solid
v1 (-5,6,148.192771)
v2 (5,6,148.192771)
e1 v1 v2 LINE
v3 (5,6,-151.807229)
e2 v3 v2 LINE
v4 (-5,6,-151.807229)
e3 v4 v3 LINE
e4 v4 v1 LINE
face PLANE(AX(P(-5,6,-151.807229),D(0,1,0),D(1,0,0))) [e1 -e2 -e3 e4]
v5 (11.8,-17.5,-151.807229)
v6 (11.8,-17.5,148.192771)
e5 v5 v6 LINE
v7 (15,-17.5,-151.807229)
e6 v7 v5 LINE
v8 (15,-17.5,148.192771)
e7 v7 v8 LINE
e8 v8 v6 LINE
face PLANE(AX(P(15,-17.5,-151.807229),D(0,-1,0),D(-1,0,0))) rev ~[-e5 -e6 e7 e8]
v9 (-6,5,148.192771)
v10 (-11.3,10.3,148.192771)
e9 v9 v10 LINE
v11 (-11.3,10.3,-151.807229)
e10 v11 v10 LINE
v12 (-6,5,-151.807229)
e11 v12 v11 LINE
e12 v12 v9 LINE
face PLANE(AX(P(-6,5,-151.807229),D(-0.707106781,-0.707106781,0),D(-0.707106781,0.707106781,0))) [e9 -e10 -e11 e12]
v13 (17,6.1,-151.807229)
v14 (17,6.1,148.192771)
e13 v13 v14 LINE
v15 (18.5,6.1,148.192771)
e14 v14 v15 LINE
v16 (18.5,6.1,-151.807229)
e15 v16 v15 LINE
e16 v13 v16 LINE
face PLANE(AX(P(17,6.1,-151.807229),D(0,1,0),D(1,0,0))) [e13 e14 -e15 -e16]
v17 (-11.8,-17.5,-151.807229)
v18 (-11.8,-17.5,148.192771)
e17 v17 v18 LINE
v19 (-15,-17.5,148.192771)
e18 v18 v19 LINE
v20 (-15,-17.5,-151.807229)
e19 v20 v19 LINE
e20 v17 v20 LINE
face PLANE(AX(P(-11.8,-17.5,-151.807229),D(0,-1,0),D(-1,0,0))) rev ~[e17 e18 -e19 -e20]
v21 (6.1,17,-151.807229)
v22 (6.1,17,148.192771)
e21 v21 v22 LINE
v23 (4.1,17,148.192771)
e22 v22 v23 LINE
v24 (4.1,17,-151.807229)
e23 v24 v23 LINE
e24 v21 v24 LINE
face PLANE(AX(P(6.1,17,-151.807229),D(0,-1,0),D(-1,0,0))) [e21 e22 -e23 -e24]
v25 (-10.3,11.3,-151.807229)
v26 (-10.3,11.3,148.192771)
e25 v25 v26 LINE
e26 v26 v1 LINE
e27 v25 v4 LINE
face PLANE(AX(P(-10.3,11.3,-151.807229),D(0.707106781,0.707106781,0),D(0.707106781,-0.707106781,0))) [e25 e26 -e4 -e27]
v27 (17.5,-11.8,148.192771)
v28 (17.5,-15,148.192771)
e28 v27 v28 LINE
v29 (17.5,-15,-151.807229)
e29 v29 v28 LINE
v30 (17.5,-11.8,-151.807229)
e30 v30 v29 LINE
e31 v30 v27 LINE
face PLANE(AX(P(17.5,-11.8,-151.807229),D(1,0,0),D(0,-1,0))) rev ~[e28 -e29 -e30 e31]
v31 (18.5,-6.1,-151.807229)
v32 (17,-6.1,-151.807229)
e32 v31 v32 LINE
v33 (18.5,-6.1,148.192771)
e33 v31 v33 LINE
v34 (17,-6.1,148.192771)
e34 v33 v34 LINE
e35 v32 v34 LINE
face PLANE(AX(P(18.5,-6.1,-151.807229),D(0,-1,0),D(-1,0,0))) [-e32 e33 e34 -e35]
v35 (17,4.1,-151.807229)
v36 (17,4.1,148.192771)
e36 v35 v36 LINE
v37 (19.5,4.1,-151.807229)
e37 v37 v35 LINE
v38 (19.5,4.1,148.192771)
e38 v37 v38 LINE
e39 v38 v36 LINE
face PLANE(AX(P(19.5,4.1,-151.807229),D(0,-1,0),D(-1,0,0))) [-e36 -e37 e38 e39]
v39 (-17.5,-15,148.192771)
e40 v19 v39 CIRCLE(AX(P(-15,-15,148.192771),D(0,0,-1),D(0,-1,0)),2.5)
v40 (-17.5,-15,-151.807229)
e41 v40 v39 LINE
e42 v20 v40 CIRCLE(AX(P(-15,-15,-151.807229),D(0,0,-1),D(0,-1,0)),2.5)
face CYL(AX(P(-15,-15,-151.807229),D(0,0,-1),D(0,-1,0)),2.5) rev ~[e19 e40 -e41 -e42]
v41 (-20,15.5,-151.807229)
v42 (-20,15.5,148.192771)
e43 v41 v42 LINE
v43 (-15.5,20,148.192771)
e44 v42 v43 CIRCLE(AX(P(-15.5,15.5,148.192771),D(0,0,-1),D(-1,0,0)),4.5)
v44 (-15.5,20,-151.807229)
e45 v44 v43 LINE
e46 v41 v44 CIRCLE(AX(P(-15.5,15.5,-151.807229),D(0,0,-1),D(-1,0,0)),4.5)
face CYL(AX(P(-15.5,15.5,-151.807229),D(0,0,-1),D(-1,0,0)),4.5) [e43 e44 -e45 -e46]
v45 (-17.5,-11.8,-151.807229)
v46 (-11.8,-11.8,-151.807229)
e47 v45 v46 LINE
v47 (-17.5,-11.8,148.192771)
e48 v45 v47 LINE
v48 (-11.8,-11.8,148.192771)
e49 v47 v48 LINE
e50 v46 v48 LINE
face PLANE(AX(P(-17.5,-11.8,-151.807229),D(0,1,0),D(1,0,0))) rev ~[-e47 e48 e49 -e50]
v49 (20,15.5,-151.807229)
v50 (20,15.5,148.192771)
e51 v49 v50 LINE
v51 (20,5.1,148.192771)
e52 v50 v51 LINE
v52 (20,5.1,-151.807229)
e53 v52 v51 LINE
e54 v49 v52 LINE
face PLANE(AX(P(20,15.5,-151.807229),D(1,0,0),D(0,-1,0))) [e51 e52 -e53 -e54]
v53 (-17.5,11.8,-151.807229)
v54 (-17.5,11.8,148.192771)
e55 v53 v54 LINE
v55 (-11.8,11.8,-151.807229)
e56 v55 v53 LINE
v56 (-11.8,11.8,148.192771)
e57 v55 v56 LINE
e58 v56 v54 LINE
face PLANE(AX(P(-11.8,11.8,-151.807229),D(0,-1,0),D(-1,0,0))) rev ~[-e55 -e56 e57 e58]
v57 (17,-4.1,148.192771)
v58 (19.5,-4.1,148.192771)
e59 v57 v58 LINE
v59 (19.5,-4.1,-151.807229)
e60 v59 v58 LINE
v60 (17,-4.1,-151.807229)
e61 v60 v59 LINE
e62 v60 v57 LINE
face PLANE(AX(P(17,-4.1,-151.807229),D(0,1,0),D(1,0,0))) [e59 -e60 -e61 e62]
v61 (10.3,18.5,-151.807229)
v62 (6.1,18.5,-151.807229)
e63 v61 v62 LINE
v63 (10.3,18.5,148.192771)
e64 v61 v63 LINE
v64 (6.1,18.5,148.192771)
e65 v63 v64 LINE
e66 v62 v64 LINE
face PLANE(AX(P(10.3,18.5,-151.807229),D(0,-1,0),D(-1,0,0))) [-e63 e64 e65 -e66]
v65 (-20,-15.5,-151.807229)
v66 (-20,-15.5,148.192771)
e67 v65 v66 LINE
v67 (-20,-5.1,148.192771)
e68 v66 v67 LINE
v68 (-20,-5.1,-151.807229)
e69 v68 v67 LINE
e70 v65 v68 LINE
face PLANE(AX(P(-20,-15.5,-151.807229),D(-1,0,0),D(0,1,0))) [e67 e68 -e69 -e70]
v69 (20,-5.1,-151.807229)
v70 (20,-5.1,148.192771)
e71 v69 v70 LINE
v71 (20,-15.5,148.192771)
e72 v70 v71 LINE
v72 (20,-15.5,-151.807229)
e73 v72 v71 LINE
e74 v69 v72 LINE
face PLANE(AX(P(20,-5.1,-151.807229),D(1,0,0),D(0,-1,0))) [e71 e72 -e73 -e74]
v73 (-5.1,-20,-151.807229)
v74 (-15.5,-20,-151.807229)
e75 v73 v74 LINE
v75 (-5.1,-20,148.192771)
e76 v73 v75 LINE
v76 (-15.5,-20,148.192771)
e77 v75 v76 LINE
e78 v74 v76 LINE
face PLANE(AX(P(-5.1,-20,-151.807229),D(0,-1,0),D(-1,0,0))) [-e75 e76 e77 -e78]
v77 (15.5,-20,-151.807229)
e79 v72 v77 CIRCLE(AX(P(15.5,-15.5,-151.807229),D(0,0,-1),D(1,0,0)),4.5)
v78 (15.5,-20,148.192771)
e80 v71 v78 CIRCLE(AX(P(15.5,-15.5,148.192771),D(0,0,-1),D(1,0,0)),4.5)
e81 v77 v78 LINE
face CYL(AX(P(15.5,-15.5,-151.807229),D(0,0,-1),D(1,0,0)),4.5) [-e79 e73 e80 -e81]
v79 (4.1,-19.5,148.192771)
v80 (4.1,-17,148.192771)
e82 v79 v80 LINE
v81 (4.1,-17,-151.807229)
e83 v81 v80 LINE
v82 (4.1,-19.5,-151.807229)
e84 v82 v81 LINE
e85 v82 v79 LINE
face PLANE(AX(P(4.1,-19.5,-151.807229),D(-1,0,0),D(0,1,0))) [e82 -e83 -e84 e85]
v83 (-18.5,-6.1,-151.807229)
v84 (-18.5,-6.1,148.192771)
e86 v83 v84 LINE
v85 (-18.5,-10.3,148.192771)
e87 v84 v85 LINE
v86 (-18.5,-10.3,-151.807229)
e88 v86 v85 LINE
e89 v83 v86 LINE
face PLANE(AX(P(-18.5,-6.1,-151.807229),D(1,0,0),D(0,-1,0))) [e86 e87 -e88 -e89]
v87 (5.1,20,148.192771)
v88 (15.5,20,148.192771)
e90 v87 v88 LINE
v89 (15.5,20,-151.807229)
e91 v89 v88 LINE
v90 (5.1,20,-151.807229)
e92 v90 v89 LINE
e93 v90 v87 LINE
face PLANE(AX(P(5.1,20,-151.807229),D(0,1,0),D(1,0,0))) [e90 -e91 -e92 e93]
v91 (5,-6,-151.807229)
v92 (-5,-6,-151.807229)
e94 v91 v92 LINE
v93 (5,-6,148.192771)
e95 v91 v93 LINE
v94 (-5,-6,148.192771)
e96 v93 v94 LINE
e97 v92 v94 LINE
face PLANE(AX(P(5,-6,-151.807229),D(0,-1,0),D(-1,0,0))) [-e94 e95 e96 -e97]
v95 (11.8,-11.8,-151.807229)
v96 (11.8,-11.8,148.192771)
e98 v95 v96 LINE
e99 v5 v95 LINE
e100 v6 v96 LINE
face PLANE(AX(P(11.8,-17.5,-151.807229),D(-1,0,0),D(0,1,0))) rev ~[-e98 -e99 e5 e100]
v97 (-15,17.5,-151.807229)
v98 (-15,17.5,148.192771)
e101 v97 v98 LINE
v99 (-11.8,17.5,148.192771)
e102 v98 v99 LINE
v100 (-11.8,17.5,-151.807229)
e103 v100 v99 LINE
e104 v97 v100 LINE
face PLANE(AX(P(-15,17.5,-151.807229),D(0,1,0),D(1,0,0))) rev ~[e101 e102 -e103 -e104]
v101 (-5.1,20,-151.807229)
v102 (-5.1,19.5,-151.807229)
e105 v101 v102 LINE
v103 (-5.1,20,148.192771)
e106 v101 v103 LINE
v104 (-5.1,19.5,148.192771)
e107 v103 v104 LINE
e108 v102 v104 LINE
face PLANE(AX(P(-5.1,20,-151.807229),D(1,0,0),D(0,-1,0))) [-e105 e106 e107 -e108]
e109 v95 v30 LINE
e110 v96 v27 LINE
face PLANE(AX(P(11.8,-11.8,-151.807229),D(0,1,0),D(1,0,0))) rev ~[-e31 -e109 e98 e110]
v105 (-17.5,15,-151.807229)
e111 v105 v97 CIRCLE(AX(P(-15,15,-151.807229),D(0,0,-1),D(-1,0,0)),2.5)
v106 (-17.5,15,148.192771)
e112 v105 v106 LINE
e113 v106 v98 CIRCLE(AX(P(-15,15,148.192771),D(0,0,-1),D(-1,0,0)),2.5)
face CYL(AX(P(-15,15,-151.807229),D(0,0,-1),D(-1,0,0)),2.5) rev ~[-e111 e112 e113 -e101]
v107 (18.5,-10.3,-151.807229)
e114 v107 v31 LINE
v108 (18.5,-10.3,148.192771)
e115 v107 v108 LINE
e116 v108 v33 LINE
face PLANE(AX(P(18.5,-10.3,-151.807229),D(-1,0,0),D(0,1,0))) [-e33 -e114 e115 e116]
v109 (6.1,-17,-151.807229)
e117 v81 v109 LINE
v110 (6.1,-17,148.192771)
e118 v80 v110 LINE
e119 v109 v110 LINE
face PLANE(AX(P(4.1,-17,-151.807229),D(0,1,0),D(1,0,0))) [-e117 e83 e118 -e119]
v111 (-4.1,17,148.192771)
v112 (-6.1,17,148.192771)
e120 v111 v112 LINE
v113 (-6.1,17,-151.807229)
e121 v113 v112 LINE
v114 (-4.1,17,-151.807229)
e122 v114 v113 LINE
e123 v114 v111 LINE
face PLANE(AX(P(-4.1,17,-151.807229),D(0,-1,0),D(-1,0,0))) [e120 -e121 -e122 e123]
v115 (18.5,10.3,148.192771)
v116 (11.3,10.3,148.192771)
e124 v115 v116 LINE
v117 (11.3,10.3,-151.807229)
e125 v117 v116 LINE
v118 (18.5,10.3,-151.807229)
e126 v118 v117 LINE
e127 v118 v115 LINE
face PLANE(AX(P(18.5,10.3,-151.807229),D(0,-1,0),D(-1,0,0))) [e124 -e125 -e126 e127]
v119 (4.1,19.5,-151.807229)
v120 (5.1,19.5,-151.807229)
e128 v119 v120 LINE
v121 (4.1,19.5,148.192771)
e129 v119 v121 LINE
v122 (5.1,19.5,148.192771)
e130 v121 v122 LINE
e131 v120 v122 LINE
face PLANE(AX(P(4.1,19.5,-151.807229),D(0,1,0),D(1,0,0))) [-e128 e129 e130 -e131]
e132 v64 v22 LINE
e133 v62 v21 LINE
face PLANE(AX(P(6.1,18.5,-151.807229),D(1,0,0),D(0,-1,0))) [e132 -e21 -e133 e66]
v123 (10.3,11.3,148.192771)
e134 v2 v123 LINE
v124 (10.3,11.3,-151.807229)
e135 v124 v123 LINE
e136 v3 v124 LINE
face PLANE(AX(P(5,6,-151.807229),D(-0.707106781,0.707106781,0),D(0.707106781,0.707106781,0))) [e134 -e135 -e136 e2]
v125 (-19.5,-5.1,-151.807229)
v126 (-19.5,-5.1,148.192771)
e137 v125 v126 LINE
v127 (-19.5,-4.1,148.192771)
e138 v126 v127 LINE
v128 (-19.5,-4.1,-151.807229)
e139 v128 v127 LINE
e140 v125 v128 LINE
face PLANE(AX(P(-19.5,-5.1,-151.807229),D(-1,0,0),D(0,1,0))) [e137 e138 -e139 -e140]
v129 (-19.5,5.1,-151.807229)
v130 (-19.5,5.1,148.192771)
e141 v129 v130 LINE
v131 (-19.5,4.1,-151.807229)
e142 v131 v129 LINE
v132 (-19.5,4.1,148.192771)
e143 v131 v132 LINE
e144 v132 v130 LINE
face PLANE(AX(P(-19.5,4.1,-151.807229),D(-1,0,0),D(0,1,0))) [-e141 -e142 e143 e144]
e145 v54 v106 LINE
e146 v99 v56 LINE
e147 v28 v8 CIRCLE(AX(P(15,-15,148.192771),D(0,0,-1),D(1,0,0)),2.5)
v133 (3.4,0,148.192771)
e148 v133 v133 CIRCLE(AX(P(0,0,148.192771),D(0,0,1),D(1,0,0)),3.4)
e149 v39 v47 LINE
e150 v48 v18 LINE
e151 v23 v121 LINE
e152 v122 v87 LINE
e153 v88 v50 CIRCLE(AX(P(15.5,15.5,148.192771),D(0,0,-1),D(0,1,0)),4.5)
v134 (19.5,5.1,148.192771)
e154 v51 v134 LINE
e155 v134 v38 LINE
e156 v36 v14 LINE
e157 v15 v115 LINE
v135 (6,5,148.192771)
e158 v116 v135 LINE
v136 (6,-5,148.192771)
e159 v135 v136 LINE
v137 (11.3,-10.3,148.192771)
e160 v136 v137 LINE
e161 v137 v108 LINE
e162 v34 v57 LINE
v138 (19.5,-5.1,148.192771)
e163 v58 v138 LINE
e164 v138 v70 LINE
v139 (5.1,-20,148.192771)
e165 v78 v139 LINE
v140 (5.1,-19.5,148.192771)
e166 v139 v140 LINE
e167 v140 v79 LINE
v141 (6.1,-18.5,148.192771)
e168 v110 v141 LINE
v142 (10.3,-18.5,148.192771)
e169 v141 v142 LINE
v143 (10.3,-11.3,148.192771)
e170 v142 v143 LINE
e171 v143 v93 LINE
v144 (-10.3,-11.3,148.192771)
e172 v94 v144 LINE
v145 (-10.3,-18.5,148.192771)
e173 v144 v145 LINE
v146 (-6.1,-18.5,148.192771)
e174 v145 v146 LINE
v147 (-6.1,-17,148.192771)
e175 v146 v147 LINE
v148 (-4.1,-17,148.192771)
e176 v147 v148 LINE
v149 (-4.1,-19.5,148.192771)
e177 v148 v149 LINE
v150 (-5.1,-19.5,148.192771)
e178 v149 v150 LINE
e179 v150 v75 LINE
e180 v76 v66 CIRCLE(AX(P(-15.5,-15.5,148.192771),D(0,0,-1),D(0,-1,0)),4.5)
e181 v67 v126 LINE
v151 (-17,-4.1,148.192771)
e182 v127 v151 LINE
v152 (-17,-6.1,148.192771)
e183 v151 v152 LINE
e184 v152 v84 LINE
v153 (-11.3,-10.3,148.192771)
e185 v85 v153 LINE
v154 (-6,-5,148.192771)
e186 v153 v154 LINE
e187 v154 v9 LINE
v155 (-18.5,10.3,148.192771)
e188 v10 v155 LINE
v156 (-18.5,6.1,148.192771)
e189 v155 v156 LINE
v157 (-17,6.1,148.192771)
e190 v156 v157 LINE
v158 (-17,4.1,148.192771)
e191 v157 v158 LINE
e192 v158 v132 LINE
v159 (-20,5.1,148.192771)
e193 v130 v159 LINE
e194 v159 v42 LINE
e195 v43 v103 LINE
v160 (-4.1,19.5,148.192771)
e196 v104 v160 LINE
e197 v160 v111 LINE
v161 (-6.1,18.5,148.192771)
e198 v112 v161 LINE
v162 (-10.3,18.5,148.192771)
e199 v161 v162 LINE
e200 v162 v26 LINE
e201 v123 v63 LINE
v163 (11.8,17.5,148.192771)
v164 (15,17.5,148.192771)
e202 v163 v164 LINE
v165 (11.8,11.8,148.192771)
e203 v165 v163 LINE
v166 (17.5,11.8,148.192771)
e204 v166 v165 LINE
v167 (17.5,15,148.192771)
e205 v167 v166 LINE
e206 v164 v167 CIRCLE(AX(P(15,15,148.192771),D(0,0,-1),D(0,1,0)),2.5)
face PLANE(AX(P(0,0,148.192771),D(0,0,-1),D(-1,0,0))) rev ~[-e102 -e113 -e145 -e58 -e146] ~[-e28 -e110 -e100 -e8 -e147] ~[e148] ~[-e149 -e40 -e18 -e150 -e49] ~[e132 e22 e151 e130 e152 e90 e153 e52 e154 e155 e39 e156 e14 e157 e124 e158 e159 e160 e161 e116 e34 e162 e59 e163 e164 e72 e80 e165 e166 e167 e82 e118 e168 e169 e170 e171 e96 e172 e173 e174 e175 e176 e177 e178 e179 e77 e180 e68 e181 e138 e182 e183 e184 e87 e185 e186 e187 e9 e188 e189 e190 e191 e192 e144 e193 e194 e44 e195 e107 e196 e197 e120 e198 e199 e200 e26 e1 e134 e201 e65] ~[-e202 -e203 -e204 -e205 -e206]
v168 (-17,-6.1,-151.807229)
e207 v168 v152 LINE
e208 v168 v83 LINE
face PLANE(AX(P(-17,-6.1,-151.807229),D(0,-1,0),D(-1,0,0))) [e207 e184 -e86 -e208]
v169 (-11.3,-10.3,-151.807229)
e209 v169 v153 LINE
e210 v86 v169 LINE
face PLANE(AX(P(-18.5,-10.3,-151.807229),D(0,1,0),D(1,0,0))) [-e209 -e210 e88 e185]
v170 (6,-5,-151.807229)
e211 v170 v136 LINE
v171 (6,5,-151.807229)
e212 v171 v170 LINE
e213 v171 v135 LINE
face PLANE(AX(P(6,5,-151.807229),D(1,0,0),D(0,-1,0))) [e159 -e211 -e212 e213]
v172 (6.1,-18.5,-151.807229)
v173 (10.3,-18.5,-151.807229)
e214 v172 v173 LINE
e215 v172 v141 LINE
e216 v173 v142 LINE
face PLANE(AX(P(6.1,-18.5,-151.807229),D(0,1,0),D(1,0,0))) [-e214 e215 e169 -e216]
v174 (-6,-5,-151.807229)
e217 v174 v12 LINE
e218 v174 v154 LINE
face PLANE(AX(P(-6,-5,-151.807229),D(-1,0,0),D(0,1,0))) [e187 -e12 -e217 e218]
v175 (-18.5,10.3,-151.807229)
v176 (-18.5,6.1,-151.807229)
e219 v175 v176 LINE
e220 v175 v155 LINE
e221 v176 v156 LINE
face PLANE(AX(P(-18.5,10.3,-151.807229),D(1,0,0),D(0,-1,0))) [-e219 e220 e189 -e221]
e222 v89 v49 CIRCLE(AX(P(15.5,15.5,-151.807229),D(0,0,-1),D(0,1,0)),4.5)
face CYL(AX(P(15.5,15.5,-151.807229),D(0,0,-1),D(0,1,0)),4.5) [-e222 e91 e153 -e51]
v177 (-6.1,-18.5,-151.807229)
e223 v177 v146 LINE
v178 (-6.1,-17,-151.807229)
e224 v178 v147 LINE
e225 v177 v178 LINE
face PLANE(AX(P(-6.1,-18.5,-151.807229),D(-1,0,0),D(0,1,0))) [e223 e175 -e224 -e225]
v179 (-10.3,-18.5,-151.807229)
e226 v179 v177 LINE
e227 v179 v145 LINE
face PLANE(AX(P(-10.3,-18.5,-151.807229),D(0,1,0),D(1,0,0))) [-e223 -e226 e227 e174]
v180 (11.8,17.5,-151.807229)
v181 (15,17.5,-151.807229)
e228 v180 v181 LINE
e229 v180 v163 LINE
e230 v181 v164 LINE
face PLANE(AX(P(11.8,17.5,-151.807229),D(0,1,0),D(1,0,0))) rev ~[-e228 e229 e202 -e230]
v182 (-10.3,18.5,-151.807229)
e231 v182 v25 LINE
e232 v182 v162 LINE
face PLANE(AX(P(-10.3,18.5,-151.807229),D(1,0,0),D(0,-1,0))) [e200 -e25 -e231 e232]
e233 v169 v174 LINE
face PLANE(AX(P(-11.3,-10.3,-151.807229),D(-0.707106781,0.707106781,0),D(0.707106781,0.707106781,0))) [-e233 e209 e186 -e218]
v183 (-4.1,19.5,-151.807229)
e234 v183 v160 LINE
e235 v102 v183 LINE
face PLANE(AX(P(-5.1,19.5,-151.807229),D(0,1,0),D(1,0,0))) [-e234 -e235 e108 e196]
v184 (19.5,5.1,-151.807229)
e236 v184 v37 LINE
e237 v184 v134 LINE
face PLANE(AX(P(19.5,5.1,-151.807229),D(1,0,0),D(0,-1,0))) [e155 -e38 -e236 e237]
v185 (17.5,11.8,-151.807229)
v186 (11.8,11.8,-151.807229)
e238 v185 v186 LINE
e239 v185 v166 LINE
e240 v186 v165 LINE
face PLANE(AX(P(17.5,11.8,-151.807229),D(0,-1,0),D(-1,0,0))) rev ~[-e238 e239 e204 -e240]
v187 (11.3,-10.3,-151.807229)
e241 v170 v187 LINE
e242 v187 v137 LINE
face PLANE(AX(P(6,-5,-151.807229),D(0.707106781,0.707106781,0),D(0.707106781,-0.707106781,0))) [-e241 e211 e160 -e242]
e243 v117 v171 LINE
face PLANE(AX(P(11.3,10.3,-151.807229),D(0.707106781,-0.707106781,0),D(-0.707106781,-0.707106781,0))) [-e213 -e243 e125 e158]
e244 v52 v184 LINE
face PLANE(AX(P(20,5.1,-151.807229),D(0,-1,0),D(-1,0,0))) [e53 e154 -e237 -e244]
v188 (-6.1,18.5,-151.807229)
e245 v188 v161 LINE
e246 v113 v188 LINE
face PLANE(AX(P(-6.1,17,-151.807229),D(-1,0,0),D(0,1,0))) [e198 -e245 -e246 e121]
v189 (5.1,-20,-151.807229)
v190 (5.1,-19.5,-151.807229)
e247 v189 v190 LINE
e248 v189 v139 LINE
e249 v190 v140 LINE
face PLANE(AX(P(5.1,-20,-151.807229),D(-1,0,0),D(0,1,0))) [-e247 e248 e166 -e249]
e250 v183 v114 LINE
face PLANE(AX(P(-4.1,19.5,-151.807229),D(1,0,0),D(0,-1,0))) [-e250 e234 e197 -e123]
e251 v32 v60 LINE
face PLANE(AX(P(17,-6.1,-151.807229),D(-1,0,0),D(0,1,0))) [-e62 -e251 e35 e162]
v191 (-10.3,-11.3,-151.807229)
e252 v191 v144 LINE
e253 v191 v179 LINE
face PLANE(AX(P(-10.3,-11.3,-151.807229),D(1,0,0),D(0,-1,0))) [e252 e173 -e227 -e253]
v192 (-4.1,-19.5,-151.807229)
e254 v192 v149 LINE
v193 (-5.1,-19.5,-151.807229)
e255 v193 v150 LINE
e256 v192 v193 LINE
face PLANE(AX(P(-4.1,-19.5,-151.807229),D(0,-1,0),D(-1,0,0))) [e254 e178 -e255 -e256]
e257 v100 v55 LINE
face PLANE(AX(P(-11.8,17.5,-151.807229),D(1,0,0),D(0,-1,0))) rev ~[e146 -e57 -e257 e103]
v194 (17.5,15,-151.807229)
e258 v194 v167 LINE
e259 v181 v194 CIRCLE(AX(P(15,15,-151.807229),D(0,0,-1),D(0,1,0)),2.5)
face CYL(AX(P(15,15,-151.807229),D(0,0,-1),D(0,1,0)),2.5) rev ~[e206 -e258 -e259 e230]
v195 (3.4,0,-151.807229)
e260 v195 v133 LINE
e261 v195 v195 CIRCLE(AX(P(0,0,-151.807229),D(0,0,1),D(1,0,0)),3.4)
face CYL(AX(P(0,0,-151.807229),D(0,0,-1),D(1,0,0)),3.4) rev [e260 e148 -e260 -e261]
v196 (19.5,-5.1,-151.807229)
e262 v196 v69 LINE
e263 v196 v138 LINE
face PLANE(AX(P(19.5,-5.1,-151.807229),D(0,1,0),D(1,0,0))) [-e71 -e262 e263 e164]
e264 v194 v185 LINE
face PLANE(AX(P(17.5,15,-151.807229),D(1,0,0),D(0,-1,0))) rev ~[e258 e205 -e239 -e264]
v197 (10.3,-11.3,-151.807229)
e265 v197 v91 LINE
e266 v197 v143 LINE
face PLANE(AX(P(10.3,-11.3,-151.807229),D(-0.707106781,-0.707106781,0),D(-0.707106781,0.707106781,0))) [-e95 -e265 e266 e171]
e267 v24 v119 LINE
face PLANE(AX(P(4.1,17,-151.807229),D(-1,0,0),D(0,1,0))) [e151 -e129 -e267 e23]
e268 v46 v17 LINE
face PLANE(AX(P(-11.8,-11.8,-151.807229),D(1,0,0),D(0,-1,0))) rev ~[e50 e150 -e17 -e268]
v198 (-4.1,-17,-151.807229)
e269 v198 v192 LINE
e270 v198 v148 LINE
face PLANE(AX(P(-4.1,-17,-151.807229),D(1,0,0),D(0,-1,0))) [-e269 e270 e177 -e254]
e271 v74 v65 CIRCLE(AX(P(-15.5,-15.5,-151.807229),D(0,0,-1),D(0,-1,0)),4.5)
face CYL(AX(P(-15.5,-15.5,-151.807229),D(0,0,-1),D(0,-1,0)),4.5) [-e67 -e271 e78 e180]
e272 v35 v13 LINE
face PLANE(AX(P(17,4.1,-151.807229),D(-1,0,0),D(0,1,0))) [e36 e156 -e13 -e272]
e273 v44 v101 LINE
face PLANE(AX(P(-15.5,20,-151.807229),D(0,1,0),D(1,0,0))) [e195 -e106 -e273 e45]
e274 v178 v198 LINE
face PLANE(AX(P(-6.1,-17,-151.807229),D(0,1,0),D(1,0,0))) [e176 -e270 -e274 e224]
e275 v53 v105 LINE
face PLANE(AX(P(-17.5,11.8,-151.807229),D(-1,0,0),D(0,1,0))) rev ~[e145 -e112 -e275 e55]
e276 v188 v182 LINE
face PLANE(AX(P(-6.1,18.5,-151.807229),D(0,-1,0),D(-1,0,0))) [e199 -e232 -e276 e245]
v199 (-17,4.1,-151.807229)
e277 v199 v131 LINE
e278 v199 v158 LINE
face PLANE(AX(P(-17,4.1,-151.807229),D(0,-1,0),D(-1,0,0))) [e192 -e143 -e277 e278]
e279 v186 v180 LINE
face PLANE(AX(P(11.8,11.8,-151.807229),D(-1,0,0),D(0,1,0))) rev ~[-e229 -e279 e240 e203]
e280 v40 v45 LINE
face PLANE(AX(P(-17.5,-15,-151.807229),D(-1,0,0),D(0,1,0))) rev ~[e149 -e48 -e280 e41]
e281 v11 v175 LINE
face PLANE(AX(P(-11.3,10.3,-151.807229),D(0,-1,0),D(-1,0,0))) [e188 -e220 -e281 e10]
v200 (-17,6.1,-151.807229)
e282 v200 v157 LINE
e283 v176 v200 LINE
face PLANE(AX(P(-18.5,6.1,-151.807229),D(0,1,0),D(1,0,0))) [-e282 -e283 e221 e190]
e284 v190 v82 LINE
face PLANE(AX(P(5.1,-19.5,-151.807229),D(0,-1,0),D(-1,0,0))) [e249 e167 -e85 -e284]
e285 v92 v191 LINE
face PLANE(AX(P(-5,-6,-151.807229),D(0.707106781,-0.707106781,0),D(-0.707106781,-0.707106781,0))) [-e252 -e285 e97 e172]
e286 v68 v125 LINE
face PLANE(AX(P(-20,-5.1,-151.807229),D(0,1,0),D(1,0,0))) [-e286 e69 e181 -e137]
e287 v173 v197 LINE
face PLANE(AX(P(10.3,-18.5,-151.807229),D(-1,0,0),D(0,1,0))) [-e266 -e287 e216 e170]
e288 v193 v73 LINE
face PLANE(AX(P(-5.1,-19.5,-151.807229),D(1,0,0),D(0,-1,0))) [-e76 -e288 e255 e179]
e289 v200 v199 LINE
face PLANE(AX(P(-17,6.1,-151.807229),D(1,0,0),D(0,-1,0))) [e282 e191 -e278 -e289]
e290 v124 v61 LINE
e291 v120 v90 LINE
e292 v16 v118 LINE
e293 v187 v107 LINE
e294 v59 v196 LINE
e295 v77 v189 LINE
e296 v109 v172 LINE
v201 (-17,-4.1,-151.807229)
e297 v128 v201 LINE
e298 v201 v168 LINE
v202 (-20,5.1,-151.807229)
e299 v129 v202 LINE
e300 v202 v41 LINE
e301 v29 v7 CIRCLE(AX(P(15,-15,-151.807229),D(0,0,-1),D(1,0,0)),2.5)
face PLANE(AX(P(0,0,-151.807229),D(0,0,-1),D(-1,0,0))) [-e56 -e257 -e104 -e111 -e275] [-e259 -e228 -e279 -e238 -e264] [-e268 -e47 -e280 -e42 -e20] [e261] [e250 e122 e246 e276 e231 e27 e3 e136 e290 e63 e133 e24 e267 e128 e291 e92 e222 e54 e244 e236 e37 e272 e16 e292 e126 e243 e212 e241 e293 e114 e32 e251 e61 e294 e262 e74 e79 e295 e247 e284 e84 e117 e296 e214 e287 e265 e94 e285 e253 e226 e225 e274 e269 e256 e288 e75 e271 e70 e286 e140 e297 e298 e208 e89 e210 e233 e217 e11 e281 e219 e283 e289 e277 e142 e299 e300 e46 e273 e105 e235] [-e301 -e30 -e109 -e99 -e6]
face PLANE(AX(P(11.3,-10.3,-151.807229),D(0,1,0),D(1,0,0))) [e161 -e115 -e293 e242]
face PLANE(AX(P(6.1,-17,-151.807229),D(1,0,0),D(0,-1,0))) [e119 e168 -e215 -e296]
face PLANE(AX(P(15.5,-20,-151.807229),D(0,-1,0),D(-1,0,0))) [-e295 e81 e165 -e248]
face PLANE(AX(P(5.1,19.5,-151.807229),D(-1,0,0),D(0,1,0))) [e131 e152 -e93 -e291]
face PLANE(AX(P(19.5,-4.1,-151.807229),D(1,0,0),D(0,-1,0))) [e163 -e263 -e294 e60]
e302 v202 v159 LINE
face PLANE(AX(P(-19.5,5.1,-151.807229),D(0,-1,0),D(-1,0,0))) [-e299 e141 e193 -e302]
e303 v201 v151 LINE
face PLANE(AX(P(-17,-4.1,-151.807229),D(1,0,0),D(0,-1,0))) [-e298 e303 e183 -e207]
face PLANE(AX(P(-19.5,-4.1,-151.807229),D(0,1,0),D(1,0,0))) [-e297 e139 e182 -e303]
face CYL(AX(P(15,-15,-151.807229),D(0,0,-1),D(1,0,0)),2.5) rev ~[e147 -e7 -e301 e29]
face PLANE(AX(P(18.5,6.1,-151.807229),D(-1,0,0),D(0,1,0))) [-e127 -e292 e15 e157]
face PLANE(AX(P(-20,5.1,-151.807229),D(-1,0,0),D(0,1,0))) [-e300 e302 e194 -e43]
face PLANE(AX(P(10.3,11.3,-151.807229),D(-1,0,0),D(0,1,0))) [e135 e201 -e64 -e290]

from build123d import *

# Parameters (mm, degrees)
SKETCH1_R                 = 3.4
F_40_X_40L_X_R4_5_1_DEPTH = 300


with BuildPart() as part:
    # Sketch1 → 铝型材 40 X 40L X R4.5(1) (new body)
    with BuildSketch(Plane.XY.offset(-151.807228916)):
        with BuildLine():
            Line((-5.1, 20), (-5.1, 19.5))
            Line((-5.1, 19.5), (-4.1, 19.5))
            Line((-4.1, 19.5), (-4.1, 17))
            Line((-4.1, 17), (-6.1, 17))
            Line((-6.1, 17), (-6.1, 18.5))
            Line((-6.1, 18.5), (-10.3, 18.5))
            Line((-10.3, 18.5), (-10.3, 11.3))
            Line((-10.3, 11.3), (-5, 6))
            Line((-5, 6), (5, 6))
            Line((5, 6), (10.3, 11.3))
            Line((10.3, 11.3), (10.3, 18.5))
            Line((10.3, 18.5), (6.1, 18.5))
            Line((6.1, 18.5), (6.1, 17))
            Line((6.1, 17), (4.1, 17))
            Line((4.1, 17), (4.1, 19.5))
            Line((4.1, 19.5), (5.1, 19.5))
            Line((5.1, 19.5), (5.1, 20))
            Line((5.1, 20), (15.5, 20))
            ThreePointArc((15.5, 20), (18.681980515, 18.681980515), (20, 15.5))
            Line((20, 15.5), (20, 5.1))
            Line((20, 5.1), (19.5, 5.1))
            Line((19.5, 5.1), (19.5, 4.1))
            Line((19.5, 4.1), (17, 4.1))
            Line((17, 4.1), (17, 6.1))
            Line((17, 6.1), (18.5, 6.1))
            Line((18.5, 6.1), (18.5, 10.3))
            Line((18.5, 10.3), (11.3, 10.3))
            Line((11.3, 10.3), (6, 5))
            Line((6, 5), (6, -5))
            Line((6, -5), (11.3, -10.3))
            Line((11.3, -10.3), (18.5, -10.3))
            Line((18.5, -10.3), (18.5, -6.1))
            Line((18.5, -6.1), (17, -6.1))
            Line((17, -6.1), (17, -4.1))
            Line((17, -4.1), (19.5, -4.1))
            Line((19.5, -4.1), (19.5, -5.1))
            Line((19.5, -5.1), (20, -5.1))
            Line((20, -5.1), (20, -15.5))
            ThreePointArc((20, -15.5), (18.681980515, -18.681980515), (15.5, -20))
            Line((15.5, -20), (5.1, -20))
            Line((5.1, -20), (5.1, -19.5))
            Line((5.1, -19.5), (4.1, -19.5))
            Line((4.1, -19.5), (4.1, -17))
            Line((4.1, -17), (6.1, -17))
            Line((6.1, -17), (6.1, -18.5))
            Line((6.1, -18.5), (10.3, -18.5))
            Line((10.3, -18.5), (10.3, -11.3))
            Line((10.3, -11.3), (5, -6))
            Line((5, -6), (-5, -6))
            Line((-5, -6), (-10.3, -11.3))
            Line((-10.3, -11.3), (-10.3, -18.5))
            Line((-10.3, -18.5), (-6.1, -18.5))
            Line((-6.1, -18.5), (-6.1, -17))
            Line((-6.1, -17), (-4.1, -17))
            Line((-4.1, -17), (-4.1, -19.5))
            Line((-4.1, -19.5), (-5.1, -19.5))
            Line((-5.1, -19.5), (-5.1, -20))
            Line((-5.1, -20), (-15.5, -20))
            ThreePointArc((-15.5, -20), (-18.681980515, -18.681980515), (-20, -15.5))
            Line((-20, -15.5), (-20, -5.1))
            Line((-20, -5.1), (-19.5, -5.1))
            Line((-19.5, -5.1), (-19.5, -4.1))
            Line((-19.5, -4.1), (-17, -4.1))
            Line((-17, -4.1), (-17, -6.1))
            Line((-17, -6.1), (-18.5, -6.1))
            Line((-18.5, -6.1), (-18.5, -10.3))
            Line((-18.5, -10.3), (-11.3, -10.3))
            Line((-11.3, -10.3), (-6, -5))
            Line((-6, -5), (-6, 5))
            Line((-6, 5), (-11.3, 10.3))
            Line((-11.3, 10.3), (-18.5, 10.3))
            Line((-18.5, 10.3), (-18.5, 6.1))
            Line((-18.5, 6.1), (-17, 6.1))
            Line((-17, 6.1), (-17, 4.1))
            Line((-17, 4.1), (-19.5, 4.1))
            Line((-19.5, 4.1), (-19.5, 5.1))
            Line((-19.5, 5.1), (-20, 5.1))
            Line((-20, 5.1), (-20, 15.5))
            ThreePointArc((-20, 15.5), (-18.681980515, 18.681980515), (-15.5, 20))
            Line((-15.5, 20), (-5.1, 20))
        make_face()
        Circle(SKETCH1_R, mode=Mode.SUBTRACT)
        with BuildLine():
            Line((11.8, 17.5), (15, 17.5))
            ThreePointArc((15, 17.5), (16.767766953, 16.767766953), (17.5, 15))
            Line((17.5, 15), (17.5, 11.8))
            Line((17.5, 11.8), (11.8, 11.8))
            Line((11.8, 11.8), (11.8, 17.5))
        make_face(mode=Mode.SUBTRACT)
        with BuildLine():
            Line((-15, 17.5), (-11.8, 17.5))
            Line((-11.8, 17.5), (-11.8, 11.8))
            Line((-11.8, 11.8), (-17.5, 11.8))
            Line((-17.5, 11.8), (-17.5, 15))
            ThreePointArc((-17.5, 15), (-16.767766953, 16.767766953), (-15, 17.5))
        make_face(mode=Mode.SUBTRACT)
        with BuildLine():
            Line((-17.5, -11.8), (-11.8, -11.8))
            Line((-11.8, -11.8), (-11.8, -17.5))
            Line((-11.8, -17.5), (-15, -17.5))
            ThreePointArc((-15, -17.5), (-16.767766953, -16.767766953), (-17.5, -15))
            Line((-17.5, -15), (-17.5, -11.8))
        make_face(mode=Mode.SUBTRACT)
        with BuildLine():
            Line((11.8, -11.8), (17.5, -11.8))
            Line((17.5, -11.8), (17.5, -15))
            ThreePointArc((17.5, -15), (16.767766953, -16.767766953), (15, -17.5))
            Line((15, -17.5), (11.8, -17.5))
            Line((11.8, -17.5), (11.8, -11.8))
        make_face(mode=Mode.SUBTRACT)
    extrude(amount=F_40_X_40L_X_R4_5_1_DEPTH)


solid = part.part
